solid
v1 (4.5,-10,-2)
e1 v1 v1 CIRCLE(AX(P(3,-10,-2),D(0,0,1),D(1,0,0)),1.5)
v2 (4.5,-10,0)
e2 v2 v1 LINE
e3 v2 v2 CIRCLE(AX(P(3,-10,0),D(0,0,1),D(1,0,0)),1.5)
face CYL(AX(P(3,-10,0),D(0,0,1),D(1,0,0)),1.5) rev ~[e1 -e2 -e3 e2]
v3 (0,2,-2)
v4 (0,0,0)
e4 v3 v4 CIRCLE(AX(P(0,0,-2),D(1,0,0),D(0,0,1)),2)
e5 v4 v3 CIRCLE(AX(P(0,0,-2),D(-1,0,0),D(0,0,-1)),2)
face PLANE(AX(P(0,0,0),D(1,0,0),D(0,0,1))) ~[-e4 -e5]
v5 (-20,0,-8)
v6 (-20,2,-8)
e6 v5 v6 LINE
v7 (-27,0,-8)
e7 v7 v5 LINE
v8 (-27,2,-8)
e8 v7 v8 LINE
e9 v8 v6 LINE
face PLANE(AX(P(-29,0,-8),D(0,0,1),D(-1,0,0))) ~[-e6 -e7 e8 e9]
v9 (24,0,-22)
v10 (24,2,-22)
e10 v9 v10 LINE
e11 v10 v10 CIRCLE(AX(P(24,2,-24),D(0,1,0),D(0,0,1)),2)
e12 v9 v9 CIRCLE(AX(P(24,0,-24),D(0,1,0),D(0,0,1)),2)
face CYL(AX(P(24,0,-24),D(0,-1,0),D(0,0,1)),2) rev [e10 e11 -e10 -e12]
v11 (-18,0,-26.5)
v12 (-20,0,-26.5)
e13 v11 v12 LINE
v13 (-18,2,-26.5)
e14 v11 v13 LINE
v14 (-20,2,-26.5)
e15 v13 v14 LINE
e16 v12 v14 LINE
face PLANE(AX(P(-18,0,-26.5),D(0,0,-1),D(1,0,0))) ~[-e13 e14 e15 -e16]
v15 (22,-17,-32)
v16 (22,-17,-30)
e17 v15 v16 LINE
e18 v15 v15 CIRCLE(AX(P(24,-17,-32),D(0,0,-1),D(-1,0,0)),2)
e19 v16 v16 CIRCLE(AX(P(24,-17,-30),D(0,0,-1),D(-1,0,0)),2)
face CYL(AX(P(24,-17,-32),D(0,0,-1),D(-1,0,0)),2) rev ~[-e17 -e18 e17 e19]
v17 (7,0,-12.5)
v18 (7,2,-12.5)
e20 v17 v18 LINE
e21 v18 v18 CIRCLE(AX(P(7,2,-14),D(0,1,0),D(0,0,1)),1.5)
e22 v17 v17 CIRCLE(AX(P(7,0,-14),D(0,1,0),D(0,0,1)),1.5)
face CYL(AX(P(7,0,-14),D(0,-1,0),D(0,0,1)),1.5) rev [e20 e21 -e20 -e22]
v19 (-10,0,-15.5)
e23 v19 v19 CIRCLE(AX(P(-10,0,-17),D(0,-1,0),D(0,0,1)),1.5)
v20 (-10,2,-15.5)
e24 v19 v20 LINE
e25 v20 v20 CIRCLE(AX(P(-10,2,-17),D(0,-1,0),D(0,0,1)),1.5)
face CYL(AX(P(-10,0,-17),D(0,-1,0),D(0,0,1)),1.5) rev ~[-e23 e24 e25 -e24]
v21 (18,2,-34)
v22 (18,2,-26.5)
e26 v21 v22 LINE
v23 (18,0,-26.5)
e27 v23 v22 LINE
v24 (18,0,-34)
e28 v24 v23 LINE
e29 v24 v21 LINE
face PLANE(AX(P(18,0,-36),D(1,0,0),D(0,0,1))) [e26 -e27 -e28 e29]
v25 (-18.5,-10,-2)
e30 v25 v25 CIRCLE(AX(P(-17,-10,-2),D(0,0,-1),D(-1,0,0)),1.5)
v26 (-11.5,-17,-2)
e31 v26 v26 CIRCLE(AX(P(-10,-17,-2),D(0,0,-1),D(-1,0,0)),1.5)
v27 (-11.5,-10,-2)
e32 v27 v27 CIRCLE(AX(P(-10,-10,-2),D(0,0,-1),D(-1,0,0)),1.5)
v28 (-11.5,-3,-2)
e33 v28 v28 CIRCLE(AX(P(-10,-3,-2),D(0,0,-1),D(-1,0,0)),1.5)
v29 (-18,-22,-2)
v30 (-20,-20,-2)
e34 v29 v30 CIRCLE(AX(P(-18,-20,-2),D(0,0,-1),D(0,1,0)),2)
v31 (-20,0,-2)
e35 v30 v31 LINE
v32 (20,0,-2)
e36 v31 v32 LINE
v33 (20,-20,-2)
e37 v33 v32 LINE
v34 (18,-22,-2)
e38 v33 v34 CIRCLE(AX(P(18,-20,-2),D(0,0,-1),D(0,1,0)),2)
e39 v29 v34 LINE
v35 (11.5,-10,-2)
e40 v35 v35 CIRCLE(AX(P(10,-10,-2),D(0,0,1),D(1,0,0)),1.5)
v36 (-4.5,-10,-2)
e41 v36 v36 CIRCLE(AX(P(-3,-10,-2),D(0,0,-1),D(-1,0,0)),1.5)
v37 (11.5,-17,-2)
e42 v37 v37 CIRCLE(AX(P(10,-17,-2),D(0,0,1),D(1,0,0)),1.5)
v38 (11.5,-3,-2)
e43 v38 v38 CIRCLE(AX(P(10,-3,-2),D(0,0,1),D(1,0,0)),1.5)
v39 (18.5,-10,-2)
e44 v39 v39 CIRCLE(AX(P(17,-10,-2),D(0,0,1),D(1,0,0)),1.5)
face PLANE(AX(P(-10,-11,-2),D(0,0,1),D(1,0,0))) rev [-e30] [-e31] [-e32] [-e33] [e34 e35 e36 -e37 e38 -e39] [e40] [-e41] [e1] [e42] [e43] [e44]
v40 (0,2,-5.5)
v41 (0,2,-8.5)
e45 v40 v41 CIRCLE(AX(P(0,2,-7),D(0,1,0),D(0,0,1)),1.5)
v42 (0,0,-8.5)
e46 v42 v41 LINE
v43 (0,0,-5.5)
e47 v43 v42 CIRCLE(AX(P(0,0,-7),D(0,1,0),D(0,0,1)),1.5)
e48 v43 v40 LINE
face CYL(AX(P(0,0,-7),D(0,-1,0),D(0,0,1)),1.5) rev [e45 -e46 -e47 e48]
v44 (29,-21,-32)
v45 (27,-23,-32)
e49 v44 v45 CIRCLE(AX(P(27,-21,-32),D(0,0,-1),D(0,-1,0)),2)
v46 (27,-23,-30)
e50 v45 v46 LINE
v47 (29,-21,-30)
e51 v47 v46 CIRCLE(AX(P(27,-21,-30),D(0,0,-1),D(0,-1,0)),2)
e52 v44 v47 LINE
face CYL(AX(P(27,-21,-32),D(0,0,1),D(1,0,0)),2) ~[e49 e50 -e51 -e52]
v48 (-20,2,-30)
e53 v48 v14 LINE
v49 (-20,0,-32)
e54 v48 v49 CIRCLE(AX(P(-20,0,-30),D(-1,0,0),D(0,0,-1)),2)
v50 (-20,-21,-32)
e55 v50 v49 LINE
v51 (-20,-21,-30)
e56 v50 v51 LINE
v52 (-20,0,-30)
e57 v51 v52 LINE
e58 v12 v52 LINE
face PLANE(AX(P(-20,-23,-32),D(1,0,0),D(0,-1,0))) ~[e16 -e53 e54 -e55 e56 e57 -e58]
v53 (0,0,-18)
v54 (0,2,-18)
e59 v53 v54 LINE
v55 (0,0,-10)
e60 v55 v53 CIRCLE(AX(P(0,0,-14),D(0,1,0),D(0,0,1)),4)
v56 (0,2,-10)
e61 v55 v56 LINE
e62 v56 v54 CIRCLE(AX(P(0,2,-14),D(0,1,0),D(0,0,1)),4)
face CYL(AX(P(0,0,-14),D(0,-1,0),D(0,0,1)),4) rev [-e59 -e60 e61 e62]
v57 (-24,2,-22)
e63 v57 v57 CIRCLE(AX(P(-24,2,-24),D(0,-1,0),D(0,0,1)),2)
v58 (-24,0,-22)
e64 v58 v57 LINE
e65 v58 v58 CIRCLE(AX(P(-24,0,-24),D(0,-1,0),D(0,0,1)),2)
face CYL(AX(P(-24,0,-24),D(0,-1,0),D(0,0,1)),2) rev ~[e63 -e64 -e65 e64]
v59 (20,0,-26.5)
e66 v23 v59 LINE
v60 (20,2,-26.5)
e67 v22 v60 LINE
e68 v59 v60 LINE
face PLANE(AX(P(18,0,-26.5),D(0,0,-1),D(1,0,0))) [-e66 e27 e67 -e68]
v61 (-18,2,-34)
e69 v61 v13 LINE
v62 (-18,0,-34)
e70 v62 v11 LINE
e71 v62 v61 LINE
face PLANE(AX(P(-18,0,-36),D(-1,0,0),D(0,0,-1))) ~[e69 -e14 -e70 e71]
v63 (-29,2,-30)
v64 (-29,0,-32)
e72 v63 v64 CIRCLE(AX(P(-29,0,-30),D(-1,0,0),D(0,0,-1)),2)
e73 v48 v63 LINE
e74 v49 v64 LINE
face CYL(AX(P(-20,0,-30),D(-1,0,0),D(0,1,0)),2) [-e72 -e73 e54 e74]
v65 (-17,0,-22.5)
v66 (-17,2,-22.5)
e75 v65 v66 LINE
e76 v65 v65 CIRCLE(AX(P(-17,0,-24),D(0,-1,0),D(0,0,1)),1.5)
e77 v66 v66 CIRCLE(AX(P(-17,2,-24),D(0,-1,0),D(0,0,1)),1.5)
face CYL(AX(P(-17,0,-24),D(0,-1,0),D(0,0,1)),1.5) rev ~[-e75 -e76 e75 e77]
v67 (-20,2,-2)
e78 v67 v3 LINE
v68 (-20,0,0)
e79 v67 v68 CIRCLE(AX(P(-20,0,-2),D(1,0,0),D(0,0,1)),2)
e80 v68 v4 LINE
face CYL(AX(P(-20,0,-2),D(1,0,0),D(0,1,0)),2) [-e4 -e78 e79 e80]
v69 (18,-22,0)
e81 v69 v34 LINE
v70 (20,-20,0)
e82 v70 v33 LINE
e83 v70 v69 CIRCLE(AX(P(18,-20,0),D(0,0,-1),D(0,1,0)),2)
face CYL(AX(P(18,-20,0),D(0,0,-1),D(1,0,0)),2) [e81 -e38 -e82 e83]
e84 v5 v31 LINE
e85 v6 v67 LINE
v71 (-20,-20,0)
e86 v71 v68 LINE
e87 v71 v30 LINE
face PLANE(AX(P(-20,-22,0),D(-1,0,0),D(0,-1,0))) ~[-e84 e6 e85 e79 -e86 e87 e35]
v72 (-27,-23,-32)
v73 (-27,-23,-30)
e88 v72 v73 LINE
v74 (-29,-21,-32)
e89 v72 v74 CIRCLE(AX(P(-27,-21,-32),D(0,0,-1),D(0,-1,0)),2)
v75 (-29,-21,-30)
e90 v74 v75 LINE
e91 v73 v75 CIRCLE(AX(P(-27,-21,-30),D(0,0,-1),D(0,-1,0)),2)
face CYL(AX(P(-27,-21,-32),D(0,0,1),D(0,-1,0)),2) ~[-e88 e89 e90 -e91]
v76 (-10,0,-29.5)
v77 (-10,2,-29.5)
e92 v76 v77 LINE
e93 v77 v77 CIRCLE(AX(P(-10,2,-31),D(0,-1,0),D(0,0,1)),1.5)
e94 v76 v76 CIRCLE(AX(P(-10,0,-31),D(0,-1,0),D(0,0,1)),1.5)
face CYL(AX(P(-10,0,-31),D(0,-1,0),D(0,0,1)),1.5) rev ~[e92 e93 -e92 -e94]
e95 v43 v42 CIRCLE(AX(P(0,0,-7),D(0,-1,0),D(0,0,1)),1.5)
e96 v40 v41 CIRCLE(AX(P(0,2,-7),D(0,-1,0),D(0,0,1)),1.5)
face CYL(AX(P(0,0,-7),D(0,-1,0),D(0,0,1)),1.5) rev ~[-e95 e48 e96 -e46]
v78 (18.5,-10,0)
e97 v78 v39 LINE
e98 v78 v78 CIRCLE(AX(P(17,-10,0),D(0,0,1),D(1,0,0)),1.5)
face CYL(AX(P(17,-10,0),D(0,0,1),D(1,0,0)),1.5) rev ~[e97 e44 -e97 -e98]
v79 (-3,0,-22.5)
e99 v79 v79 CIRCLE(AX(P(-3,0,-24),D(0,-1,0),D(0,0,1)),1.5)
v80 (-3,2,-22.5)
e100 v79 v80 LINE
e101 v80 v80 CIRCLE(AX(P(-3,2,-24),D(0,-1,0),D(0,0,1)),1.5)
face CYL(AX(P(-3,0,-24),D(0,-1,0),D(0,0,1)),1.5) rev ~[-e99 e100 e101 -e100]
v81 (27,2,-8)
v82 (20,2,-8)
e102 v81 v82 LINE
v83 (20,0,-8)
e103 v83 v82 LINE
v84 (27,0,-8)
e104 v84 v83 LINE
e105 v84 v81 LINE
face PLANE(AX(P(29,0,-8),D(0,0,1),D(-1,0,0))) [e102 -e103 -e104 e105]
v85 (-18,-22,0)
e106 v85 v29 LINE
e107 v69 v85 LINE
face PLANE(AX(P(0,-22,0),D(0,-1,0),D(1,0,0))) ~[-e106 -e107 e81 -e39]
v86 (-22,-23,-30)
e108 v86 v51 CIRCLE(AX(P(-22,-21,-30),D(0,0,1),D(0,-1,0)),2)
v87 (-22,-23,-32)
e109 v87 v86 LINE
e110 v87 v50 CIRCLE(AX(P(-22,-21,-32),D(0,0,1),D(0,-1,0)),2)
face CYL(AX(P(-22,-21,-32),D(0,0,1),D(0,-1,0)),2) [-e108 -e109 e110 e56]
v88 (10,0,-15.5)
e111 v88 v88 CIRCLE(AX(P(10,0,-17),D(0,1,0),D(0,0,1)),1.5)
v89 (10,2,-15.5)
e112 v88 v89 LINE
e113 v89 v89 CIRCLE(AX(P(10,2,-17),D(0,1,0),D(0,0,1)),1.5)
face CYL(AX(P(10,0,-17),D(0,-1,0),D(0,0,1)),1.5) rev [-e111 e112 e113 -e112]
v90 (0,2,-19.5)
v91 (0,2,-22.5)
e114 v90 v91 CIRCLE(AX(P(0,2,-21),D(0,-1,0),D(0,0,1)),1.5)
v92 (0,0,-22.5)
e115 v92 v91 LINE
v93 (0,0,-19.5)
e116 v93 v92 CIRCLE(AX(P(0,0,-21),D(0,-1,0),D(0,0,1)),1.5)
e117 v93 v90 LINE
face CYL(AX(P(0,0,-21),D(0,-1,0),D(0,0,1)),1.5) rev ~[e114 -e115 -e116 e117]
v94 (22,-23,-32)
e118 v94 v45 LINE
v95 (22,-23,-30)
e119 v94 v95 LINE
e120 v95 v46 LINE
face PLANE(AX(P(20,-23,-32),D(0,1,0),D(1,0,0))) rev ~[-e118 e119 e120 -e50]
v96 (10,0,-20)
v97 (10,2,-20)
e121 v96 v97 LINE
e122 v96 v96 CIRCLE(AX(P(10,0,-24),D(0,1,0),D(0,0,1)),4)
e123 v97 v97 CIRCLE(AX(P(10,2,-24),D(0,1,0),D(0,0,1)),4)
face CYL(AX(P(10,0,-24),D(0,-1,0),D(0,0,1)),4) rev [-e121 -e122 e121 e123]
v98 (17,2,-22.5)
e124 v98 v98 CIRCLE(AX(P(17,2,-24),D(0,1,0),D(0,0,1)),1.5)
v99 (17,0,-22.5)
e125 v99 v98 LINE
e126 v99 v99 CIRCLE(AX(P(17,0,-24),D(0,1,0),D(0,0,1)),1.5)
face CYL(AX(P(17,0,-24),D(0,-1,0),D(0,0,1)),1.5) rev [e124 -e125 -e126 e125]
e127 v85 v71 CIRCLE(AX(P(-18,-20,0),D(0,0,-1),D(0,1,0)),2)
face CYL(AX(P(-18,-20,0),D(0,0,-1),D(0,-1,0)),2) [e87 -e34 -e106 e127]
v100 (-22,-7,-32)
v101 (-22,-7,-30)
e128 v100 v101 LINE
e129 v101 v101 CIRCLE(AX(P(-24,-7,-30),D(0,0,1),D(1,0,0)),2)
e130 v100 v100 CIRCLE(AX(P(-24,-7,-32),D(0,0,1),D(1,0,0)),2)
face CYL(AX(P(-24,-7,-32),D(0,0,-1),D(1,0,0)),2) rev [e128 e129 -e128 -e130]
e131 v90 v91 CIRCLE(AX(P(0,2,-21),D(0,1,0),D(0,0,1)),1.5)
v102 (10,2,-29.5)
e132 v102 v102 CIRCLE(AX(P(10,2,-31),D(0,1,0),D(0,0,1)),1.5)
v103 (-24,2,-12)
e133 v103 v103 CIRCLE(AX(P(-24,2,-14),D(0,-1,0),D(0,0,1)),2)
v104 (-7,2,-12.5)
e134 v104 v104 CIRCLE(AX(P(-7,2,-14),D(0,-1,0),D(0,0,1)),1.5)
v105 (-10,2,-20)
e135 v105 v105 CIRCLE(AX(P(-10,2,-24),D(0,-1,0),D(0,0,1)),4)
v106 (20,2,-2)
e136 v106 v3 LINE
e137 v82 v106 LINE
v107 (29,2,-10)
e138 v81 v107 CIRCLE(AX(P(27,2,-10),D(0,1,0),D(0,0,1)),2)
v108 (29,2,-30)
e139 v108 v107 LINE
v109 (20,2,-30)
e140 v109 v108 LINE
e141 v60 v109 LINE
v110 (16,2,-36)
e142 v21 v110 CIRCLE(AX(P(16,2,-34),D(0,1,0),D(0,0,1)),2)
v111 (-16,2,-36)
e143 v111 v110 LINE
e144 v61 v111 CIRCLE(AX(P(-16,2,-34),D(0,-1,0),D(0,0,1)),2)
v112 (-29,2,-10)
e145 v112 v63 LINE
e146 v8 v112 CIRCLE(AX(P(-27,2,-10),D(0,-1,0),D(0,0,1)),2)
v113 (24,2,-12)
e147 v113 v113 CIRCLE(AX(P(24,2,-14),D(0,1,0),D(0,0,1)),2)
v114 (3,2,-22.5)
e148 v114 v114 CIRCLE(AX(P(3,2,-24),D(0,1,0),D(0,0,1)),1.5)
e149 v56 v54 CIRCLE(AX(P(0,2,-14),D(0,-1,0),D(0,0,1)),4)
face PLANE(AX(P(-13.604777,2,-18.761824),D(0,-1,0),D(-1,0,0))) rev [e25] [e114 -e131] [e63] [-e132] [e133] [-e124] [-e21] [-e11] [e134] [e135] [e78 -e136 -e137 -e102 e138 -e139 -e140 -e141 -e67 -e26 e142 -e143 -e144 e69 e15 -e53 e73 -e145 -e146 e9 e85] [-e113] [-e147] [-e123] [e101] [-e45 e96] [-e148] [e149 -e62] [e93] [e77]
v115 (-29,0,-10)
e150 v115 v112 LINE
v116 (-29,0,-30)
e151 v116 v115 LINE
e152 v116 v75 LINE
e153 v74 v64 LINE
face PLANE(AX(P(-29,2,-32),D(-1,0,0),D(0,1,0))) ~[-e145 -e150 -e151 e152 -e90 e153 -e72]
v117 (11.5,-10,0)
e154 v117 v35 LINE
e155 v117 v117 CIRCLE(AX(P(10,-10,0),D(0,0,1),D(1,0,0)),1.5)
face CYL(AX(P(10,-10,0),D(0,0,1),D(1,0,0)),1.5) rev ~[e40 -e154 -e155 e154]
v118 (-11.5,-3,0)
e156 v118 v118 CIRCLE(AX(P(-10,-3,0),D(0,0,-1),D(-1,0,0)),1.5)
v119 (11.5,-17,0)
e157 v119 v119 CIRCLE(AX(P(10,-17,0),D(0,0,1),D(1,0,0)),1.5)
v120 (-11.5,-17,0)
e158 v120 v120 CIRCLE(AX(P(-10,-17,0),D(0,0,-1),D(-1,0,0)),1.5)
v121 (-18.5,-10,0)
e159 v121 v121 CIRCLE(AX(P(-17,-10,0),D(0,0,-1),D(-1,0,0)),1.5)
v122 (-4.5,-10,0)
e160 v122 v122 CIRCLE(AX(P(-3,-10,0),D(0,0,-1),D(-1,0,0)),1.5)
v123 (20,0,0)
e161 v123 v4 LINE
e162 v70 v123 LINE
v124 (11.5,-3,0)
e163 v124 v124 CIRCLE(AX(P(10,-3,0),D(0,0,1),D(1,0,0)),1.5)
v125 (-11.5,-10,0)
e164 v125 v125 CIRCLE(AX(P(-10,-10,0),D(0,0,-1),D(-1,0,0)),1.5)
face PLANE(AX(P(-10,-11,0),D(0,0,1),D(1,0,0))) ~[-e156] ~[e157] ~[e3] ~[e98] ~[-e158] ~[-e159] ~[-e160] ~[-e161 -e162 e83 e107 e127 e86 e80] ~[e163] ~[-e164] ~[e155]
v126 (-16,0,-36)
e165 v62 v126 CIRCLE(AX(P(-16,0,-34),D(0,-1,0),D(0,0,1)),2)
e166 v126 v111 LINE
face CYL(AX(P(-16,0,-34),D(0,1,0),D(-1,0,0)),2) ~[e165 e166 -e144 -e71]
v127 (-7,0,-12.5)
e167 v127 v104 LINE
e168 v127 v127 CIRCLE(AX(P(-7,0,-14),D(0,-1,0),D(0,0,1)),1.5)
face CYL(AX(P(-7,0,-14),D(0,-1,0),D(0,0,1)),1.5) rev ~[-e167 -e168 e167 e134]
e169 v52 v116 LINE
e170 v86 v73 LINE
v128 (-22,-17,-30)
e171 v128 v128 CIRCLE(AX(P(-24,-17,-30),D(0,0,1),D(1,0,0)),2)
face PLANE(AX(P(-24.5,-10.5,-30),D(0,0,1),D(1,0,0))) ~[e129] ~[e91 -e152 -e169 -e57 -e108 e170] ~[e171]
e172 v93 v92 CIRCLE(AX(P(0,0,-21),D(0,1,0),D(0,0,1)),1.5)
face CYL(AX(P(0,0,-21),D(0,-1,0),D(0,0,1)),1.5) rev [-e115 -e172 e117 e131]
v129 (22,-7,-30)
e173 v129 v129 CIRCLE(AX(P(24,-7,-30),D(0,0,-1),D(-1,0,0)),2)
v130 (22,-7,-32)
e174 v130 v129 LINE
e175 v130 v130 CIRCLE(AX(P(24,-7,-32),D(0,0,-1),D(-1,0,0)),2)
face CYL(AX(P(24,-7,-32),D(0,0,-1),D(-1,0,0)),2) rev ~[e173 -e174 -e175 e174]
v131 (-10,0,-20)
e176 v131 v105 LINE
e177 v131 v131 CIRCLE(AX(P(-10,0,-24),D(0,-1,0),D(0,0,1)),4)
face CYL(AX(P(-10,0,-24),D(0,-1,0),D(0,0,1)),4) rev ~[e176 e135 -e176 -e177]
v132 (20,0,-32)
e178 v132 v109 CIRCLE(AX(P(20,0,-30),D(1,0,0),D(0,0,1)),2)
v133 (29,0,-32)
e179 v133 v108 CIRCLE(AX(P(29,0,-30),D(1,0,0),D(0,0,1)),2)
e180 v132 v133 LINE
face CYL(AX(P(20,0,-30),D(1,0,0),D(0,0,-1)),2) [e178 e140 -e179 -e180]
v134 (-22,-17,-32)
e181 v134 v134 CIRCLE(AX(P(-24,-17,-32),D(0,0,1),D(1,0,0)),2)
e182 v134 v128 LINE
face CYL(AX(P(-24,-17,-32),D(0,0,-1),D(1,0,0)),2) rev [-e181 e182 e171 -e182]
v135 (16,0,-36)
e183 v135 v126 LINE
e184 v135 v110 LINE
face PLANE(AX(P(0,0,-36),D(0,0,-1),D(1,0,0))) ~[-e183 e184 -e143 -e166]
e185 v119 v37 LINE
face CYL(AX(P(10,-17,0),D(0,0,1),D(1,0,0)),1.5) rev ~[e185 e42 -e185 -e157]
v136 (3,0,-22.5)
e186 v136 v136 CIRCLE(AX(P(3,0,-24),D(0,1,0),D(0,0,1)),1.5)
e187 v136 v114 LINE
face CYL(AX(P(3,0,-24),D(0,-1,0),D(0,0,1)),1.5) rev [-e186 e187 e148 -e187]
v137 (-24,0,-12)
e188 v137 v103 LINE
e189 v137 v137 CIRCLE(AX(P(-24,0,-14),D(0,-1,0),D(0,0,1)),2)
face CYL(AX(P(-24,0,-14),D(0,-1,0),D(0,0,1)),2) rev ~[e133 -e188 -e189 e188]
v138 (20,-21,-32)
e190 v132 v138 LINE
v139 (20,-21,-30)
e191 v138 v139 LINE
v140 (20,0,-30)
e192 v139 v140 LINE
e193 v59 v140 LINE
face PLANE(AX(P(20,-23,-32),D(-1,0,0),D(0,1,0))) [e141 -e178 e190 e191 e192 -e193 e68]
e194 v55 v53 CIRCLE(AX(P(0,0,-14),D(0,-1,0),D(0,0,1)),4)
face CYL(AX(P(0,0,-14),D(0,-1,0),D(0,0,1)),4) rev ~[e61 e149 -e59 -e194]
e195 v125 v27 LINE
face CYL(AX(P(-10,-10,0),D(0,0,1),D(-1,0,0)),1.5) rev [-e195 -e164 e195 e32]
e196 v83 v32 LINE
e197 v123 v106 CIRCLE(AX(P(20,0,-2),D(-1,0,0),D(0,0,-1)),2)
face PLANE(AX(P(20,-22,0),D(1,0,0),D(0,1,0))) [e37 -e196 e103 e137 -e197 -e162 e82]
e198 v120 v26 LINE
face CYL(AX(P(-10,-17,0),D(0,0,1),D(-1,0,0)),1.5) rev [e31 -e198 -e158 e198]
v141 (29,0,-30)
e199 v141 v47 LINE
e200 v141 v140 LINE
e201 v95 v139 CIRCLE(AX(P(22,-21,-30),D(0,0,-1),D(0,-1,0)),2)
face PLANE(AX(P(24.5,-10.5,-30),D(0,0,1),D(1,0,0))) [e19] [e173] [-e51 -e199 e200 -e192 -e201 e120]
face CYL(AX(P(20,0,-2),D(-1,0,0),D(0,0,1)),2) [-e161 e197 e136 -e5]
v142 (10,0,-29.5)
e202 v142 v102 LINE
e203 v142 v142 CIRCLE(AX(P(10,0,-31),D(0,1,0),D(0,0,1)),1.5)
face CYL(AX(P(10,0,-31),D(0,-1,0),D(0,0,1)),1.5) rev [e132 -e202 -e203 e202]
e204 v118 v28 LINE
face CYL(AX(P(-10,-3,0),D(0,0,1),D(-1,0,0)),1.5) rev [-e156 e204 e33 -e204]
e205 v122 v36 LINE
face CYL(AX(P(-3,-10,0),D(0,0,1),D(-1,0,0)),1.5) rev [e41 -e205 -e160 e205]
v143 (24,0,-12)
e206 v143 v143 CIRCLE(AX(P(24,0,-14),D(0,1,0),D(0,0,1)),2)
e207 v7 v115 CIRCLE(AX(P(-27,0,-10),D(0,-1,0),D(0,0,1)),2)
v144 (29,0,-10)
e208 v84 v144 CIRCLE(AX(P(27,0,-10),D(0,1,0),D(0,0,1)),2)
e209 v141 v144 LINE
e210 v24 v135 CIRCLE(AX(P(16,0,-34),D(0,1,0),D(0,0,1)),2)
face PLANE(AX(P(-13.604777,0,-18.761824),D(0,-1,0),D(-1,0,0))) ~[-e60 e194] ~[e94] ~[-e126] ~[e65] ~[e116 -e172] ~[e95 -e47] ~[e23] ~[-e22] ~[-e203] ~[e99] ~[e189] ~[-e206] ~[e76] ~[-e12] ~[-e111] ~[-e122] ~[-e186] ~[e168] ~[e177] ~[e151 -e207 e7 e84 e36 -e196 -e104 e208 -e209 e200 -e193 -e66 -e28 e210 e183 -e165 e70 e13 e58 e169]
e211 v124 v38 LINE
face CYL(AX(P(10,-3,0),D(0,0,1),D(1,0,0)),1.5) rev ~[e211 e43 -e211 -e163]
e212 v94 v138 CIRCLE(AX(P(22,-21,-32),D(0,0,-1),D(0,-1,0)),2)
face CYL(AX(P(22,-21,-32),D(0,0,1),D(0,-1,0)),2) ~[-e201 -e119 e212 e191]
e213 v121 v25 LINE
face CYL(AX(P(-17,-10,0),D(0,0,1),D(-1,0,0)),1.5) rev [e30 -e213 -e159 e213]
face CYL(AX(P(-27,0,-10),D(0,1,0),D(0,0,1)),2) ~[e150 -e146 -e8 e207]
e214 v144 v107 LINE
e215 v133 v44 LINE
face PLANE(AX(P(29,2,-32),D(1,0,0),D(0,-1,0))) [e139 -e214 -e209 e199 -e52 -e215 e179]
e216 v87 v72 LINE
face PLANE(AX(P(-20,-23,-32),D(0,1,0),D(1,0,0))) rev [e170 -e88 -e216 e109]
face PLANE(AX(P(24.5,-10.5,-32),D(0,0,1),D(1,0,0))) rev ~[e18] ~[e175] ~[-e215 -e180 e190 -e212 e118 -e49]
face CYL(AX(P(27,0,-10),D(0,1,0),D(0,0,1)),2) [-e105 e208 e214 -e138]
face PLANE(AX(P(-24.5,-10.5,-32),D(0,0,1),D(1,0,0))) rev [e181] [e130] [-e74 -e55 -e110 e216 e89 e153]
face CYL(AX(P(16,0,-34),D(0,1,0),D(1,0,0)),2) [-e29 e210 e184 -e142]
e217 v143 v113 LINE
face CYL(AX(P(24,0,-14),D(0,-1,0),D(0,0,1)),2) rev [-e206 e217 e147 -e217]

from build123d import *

# Parameters (mm, degrees)
SKETCH_208_R           = 4
SKETCH_208_R_2         = 1.5
SKETCH_208_R_3         = 2
EXTRUDE_1_DEPTH        = 2
SKETCH_3_R             = 2
EXTRUDE_2_DEPTH        = 2
SKETCH_4_W             = 20
SKETCH_4_H             = 22
SKETCH_4_R             = 1.5
EXTRUDE_3_DEPTH        = 2
FILLET_1_R             = 2
FILLET_1_OF_MIRROR_1_R = 2


with BuildPart() as part:
    # Sketch 208 → 凸台-拉伸1 (new body)
    with BuildSketch(Plane(origin=(0, 0, 0), x_dir=(1, 0, 0), z_dir=(0, 1, 0))):
        with BuildLine():
            Line((0, 36), (18, 36))
            Line((18, 36), (18, 26.5))
            Line((18, 26.5), (20, 26.5))
            Line((20, 26.5), (20, 32))
            Line((20, 32), (29, 32))
            Line((29, 32), (29, 8))
            Line((29, 8), (20, 8))
            Line((20, 8), (20, 0))
            Line((20, 0), (0, 0))
            Line((0, 0), (0, 5.5))
            ThreePointArc((0, 5.5), (1.5, 7), (0, 8.5))
            Line((0, 8.5), (0, 10))
            ThreePointArc((0, 10), (4, 14), (0, 18))
            Line((0, 18), (0, 19.5))
            ThreePointArc((0, 19.5), (1.5, 21), (0, 22.5))
            Line((0, 22.5), (0, 36))
        make_face()
        with Locations(Location((10, 24, 0), (0, 0, 270))):
            Circle(SKETCH_208_R, mode=Mode.SUBTRACT)
        with Locations(Location((10, 31, 0), (0, 0, 270))):
            Circle(SKETCH_208_R_2, mode=Mode.SUBTRACT)
        with Locations(Location((17, 24, 0), (0, 0, 270))):
            Circle(SKETCH_208_R_2, mode=Mode.SUBTRACT)
        with Locations(Location((10, 17, 0), (0, 0, 270))):
            Circle(SKETCH_208_R_2, mode=Mode.SUBTRACT)
        with Locations(Location((3, 24, 0), (0, 0, 270))):
            Circle(SKETCH_208_R_2, mode=Mode.SUBTRACT)
        with Locations(Location((7, 14, 0), (0, 0, 270))):
            Circle(SKETCH_208_R_2, mode=Mode.SUBTRACT)
        with Locations(Location((24, 24, 0), (0, 0, 270))):
            Circle(SKETCH_208_R_3, mode=Mode.SUBTRACT)
        with Locations(Location((24, 14, 0), (0, 0, 270))):
            Circle(SKETCH_208_R_3, mode=Mode.SUBTRACT)
    extrude_1 = extrude(amount=EXTRUDE_1_DEPTH)

    # 草图3 → 凸台-拉伸2 (add)
    with BuildSketch(Plane(origin=(0, 0, -32), x_dir=(-1, 0, 0), z_dir=(0, 0, -1))):
        Polygon((-20, 0), (-20, -23), (-29, -23), (-29, 0), (-29, 2), (-20, 2), align=None)
        with Locations((-24, -17)):
            Circle(SKETCH_3_R, mode=Mode.SUBTRACT)
        with Locations((-24, -7)):
            Circle(SKETCH_3_R, mode=Mode.SUBTRACT)
    extrude_2 = extrude(amount=-EXTRUDE_2_DEPTH)

    # 草图4 → 凸台-拉伸3 (add)
    with BuildSketch(Plane.XY):
        with Locations((10, -11)):
            Rectangle(SKETCH_4_W, SKETCH_4_H)
        with Locations((10, -10)):
            Circle(SKETCH_4_R, mode=Mode.SUBTRACT)
        with Locations((17, -10)):
            Circle(SKETCH_4_R, mode=Mode.SUBTRACT)
        with Locations((10, -17)):
            Circle(SKETCH_4_R, mode=Mode.SUBTRACT)
        with Locations((3, -10)):
            Circle(SKETCH_4_R, mode=Mode.SUBTRACT)
        with Locations((10, -3)):
            Circle(SKETCH_4_R, mode=Mode.SUBTRACT)
    extrude_3 = extrude(amount=-EXTRUDE_3_DEPTH)

    # 圆角1
    fillet_1_edges = [part.edges().sort_by_distance(p)[0] for p in [
        (20, -22, -1),
        (18, 1, -36),
        (29, 1, -8),
        (10, 2, 0),
        (24.5, 2, -32),
        (29, -23, -31),
        (20, -23, -31),
    ]]
    fillet(fillet_1_edges, radius=FILLET_1_R)

    # 镜向1: 凸台-拉伸1, 凸台-拉伸2, 凸台-拉伸3 across plane
    add(extrude_1.mirror(Plane(origin=(0, 0, 0), x_dir=(0, 0, 1), z_dir=(1, 0, 0))))
    add(extrude_2.mirror(Plane(origin=(0, 0, 0), x_dir=(0, 0, 1), z_dir=(1, 0, 0))))
    add(extrude_3.mirror(Plane(origin=(0, 0, 0), x_dir=(0, 0, 1), z_dir=(1, 0, 0))))

    # 圆角1 of 镜向1
    fillet_1_of_mirror_1_edges = [part.edges().sort_by_distance(p)[0] for p in [
        (-20, -22, -1),
        (-18, 1, -36),
        (-29, 1, -8),
        (-10, 2, 0),
        (-24.5, 2, -32),
        (-29, -23, -31),
        (-20, -23, -31),
    ]]
    fillet(fillet_1_of_mirror_1_edges, radius=FILLET_1_OF_MIRROR_1_R)


solid = part.part
